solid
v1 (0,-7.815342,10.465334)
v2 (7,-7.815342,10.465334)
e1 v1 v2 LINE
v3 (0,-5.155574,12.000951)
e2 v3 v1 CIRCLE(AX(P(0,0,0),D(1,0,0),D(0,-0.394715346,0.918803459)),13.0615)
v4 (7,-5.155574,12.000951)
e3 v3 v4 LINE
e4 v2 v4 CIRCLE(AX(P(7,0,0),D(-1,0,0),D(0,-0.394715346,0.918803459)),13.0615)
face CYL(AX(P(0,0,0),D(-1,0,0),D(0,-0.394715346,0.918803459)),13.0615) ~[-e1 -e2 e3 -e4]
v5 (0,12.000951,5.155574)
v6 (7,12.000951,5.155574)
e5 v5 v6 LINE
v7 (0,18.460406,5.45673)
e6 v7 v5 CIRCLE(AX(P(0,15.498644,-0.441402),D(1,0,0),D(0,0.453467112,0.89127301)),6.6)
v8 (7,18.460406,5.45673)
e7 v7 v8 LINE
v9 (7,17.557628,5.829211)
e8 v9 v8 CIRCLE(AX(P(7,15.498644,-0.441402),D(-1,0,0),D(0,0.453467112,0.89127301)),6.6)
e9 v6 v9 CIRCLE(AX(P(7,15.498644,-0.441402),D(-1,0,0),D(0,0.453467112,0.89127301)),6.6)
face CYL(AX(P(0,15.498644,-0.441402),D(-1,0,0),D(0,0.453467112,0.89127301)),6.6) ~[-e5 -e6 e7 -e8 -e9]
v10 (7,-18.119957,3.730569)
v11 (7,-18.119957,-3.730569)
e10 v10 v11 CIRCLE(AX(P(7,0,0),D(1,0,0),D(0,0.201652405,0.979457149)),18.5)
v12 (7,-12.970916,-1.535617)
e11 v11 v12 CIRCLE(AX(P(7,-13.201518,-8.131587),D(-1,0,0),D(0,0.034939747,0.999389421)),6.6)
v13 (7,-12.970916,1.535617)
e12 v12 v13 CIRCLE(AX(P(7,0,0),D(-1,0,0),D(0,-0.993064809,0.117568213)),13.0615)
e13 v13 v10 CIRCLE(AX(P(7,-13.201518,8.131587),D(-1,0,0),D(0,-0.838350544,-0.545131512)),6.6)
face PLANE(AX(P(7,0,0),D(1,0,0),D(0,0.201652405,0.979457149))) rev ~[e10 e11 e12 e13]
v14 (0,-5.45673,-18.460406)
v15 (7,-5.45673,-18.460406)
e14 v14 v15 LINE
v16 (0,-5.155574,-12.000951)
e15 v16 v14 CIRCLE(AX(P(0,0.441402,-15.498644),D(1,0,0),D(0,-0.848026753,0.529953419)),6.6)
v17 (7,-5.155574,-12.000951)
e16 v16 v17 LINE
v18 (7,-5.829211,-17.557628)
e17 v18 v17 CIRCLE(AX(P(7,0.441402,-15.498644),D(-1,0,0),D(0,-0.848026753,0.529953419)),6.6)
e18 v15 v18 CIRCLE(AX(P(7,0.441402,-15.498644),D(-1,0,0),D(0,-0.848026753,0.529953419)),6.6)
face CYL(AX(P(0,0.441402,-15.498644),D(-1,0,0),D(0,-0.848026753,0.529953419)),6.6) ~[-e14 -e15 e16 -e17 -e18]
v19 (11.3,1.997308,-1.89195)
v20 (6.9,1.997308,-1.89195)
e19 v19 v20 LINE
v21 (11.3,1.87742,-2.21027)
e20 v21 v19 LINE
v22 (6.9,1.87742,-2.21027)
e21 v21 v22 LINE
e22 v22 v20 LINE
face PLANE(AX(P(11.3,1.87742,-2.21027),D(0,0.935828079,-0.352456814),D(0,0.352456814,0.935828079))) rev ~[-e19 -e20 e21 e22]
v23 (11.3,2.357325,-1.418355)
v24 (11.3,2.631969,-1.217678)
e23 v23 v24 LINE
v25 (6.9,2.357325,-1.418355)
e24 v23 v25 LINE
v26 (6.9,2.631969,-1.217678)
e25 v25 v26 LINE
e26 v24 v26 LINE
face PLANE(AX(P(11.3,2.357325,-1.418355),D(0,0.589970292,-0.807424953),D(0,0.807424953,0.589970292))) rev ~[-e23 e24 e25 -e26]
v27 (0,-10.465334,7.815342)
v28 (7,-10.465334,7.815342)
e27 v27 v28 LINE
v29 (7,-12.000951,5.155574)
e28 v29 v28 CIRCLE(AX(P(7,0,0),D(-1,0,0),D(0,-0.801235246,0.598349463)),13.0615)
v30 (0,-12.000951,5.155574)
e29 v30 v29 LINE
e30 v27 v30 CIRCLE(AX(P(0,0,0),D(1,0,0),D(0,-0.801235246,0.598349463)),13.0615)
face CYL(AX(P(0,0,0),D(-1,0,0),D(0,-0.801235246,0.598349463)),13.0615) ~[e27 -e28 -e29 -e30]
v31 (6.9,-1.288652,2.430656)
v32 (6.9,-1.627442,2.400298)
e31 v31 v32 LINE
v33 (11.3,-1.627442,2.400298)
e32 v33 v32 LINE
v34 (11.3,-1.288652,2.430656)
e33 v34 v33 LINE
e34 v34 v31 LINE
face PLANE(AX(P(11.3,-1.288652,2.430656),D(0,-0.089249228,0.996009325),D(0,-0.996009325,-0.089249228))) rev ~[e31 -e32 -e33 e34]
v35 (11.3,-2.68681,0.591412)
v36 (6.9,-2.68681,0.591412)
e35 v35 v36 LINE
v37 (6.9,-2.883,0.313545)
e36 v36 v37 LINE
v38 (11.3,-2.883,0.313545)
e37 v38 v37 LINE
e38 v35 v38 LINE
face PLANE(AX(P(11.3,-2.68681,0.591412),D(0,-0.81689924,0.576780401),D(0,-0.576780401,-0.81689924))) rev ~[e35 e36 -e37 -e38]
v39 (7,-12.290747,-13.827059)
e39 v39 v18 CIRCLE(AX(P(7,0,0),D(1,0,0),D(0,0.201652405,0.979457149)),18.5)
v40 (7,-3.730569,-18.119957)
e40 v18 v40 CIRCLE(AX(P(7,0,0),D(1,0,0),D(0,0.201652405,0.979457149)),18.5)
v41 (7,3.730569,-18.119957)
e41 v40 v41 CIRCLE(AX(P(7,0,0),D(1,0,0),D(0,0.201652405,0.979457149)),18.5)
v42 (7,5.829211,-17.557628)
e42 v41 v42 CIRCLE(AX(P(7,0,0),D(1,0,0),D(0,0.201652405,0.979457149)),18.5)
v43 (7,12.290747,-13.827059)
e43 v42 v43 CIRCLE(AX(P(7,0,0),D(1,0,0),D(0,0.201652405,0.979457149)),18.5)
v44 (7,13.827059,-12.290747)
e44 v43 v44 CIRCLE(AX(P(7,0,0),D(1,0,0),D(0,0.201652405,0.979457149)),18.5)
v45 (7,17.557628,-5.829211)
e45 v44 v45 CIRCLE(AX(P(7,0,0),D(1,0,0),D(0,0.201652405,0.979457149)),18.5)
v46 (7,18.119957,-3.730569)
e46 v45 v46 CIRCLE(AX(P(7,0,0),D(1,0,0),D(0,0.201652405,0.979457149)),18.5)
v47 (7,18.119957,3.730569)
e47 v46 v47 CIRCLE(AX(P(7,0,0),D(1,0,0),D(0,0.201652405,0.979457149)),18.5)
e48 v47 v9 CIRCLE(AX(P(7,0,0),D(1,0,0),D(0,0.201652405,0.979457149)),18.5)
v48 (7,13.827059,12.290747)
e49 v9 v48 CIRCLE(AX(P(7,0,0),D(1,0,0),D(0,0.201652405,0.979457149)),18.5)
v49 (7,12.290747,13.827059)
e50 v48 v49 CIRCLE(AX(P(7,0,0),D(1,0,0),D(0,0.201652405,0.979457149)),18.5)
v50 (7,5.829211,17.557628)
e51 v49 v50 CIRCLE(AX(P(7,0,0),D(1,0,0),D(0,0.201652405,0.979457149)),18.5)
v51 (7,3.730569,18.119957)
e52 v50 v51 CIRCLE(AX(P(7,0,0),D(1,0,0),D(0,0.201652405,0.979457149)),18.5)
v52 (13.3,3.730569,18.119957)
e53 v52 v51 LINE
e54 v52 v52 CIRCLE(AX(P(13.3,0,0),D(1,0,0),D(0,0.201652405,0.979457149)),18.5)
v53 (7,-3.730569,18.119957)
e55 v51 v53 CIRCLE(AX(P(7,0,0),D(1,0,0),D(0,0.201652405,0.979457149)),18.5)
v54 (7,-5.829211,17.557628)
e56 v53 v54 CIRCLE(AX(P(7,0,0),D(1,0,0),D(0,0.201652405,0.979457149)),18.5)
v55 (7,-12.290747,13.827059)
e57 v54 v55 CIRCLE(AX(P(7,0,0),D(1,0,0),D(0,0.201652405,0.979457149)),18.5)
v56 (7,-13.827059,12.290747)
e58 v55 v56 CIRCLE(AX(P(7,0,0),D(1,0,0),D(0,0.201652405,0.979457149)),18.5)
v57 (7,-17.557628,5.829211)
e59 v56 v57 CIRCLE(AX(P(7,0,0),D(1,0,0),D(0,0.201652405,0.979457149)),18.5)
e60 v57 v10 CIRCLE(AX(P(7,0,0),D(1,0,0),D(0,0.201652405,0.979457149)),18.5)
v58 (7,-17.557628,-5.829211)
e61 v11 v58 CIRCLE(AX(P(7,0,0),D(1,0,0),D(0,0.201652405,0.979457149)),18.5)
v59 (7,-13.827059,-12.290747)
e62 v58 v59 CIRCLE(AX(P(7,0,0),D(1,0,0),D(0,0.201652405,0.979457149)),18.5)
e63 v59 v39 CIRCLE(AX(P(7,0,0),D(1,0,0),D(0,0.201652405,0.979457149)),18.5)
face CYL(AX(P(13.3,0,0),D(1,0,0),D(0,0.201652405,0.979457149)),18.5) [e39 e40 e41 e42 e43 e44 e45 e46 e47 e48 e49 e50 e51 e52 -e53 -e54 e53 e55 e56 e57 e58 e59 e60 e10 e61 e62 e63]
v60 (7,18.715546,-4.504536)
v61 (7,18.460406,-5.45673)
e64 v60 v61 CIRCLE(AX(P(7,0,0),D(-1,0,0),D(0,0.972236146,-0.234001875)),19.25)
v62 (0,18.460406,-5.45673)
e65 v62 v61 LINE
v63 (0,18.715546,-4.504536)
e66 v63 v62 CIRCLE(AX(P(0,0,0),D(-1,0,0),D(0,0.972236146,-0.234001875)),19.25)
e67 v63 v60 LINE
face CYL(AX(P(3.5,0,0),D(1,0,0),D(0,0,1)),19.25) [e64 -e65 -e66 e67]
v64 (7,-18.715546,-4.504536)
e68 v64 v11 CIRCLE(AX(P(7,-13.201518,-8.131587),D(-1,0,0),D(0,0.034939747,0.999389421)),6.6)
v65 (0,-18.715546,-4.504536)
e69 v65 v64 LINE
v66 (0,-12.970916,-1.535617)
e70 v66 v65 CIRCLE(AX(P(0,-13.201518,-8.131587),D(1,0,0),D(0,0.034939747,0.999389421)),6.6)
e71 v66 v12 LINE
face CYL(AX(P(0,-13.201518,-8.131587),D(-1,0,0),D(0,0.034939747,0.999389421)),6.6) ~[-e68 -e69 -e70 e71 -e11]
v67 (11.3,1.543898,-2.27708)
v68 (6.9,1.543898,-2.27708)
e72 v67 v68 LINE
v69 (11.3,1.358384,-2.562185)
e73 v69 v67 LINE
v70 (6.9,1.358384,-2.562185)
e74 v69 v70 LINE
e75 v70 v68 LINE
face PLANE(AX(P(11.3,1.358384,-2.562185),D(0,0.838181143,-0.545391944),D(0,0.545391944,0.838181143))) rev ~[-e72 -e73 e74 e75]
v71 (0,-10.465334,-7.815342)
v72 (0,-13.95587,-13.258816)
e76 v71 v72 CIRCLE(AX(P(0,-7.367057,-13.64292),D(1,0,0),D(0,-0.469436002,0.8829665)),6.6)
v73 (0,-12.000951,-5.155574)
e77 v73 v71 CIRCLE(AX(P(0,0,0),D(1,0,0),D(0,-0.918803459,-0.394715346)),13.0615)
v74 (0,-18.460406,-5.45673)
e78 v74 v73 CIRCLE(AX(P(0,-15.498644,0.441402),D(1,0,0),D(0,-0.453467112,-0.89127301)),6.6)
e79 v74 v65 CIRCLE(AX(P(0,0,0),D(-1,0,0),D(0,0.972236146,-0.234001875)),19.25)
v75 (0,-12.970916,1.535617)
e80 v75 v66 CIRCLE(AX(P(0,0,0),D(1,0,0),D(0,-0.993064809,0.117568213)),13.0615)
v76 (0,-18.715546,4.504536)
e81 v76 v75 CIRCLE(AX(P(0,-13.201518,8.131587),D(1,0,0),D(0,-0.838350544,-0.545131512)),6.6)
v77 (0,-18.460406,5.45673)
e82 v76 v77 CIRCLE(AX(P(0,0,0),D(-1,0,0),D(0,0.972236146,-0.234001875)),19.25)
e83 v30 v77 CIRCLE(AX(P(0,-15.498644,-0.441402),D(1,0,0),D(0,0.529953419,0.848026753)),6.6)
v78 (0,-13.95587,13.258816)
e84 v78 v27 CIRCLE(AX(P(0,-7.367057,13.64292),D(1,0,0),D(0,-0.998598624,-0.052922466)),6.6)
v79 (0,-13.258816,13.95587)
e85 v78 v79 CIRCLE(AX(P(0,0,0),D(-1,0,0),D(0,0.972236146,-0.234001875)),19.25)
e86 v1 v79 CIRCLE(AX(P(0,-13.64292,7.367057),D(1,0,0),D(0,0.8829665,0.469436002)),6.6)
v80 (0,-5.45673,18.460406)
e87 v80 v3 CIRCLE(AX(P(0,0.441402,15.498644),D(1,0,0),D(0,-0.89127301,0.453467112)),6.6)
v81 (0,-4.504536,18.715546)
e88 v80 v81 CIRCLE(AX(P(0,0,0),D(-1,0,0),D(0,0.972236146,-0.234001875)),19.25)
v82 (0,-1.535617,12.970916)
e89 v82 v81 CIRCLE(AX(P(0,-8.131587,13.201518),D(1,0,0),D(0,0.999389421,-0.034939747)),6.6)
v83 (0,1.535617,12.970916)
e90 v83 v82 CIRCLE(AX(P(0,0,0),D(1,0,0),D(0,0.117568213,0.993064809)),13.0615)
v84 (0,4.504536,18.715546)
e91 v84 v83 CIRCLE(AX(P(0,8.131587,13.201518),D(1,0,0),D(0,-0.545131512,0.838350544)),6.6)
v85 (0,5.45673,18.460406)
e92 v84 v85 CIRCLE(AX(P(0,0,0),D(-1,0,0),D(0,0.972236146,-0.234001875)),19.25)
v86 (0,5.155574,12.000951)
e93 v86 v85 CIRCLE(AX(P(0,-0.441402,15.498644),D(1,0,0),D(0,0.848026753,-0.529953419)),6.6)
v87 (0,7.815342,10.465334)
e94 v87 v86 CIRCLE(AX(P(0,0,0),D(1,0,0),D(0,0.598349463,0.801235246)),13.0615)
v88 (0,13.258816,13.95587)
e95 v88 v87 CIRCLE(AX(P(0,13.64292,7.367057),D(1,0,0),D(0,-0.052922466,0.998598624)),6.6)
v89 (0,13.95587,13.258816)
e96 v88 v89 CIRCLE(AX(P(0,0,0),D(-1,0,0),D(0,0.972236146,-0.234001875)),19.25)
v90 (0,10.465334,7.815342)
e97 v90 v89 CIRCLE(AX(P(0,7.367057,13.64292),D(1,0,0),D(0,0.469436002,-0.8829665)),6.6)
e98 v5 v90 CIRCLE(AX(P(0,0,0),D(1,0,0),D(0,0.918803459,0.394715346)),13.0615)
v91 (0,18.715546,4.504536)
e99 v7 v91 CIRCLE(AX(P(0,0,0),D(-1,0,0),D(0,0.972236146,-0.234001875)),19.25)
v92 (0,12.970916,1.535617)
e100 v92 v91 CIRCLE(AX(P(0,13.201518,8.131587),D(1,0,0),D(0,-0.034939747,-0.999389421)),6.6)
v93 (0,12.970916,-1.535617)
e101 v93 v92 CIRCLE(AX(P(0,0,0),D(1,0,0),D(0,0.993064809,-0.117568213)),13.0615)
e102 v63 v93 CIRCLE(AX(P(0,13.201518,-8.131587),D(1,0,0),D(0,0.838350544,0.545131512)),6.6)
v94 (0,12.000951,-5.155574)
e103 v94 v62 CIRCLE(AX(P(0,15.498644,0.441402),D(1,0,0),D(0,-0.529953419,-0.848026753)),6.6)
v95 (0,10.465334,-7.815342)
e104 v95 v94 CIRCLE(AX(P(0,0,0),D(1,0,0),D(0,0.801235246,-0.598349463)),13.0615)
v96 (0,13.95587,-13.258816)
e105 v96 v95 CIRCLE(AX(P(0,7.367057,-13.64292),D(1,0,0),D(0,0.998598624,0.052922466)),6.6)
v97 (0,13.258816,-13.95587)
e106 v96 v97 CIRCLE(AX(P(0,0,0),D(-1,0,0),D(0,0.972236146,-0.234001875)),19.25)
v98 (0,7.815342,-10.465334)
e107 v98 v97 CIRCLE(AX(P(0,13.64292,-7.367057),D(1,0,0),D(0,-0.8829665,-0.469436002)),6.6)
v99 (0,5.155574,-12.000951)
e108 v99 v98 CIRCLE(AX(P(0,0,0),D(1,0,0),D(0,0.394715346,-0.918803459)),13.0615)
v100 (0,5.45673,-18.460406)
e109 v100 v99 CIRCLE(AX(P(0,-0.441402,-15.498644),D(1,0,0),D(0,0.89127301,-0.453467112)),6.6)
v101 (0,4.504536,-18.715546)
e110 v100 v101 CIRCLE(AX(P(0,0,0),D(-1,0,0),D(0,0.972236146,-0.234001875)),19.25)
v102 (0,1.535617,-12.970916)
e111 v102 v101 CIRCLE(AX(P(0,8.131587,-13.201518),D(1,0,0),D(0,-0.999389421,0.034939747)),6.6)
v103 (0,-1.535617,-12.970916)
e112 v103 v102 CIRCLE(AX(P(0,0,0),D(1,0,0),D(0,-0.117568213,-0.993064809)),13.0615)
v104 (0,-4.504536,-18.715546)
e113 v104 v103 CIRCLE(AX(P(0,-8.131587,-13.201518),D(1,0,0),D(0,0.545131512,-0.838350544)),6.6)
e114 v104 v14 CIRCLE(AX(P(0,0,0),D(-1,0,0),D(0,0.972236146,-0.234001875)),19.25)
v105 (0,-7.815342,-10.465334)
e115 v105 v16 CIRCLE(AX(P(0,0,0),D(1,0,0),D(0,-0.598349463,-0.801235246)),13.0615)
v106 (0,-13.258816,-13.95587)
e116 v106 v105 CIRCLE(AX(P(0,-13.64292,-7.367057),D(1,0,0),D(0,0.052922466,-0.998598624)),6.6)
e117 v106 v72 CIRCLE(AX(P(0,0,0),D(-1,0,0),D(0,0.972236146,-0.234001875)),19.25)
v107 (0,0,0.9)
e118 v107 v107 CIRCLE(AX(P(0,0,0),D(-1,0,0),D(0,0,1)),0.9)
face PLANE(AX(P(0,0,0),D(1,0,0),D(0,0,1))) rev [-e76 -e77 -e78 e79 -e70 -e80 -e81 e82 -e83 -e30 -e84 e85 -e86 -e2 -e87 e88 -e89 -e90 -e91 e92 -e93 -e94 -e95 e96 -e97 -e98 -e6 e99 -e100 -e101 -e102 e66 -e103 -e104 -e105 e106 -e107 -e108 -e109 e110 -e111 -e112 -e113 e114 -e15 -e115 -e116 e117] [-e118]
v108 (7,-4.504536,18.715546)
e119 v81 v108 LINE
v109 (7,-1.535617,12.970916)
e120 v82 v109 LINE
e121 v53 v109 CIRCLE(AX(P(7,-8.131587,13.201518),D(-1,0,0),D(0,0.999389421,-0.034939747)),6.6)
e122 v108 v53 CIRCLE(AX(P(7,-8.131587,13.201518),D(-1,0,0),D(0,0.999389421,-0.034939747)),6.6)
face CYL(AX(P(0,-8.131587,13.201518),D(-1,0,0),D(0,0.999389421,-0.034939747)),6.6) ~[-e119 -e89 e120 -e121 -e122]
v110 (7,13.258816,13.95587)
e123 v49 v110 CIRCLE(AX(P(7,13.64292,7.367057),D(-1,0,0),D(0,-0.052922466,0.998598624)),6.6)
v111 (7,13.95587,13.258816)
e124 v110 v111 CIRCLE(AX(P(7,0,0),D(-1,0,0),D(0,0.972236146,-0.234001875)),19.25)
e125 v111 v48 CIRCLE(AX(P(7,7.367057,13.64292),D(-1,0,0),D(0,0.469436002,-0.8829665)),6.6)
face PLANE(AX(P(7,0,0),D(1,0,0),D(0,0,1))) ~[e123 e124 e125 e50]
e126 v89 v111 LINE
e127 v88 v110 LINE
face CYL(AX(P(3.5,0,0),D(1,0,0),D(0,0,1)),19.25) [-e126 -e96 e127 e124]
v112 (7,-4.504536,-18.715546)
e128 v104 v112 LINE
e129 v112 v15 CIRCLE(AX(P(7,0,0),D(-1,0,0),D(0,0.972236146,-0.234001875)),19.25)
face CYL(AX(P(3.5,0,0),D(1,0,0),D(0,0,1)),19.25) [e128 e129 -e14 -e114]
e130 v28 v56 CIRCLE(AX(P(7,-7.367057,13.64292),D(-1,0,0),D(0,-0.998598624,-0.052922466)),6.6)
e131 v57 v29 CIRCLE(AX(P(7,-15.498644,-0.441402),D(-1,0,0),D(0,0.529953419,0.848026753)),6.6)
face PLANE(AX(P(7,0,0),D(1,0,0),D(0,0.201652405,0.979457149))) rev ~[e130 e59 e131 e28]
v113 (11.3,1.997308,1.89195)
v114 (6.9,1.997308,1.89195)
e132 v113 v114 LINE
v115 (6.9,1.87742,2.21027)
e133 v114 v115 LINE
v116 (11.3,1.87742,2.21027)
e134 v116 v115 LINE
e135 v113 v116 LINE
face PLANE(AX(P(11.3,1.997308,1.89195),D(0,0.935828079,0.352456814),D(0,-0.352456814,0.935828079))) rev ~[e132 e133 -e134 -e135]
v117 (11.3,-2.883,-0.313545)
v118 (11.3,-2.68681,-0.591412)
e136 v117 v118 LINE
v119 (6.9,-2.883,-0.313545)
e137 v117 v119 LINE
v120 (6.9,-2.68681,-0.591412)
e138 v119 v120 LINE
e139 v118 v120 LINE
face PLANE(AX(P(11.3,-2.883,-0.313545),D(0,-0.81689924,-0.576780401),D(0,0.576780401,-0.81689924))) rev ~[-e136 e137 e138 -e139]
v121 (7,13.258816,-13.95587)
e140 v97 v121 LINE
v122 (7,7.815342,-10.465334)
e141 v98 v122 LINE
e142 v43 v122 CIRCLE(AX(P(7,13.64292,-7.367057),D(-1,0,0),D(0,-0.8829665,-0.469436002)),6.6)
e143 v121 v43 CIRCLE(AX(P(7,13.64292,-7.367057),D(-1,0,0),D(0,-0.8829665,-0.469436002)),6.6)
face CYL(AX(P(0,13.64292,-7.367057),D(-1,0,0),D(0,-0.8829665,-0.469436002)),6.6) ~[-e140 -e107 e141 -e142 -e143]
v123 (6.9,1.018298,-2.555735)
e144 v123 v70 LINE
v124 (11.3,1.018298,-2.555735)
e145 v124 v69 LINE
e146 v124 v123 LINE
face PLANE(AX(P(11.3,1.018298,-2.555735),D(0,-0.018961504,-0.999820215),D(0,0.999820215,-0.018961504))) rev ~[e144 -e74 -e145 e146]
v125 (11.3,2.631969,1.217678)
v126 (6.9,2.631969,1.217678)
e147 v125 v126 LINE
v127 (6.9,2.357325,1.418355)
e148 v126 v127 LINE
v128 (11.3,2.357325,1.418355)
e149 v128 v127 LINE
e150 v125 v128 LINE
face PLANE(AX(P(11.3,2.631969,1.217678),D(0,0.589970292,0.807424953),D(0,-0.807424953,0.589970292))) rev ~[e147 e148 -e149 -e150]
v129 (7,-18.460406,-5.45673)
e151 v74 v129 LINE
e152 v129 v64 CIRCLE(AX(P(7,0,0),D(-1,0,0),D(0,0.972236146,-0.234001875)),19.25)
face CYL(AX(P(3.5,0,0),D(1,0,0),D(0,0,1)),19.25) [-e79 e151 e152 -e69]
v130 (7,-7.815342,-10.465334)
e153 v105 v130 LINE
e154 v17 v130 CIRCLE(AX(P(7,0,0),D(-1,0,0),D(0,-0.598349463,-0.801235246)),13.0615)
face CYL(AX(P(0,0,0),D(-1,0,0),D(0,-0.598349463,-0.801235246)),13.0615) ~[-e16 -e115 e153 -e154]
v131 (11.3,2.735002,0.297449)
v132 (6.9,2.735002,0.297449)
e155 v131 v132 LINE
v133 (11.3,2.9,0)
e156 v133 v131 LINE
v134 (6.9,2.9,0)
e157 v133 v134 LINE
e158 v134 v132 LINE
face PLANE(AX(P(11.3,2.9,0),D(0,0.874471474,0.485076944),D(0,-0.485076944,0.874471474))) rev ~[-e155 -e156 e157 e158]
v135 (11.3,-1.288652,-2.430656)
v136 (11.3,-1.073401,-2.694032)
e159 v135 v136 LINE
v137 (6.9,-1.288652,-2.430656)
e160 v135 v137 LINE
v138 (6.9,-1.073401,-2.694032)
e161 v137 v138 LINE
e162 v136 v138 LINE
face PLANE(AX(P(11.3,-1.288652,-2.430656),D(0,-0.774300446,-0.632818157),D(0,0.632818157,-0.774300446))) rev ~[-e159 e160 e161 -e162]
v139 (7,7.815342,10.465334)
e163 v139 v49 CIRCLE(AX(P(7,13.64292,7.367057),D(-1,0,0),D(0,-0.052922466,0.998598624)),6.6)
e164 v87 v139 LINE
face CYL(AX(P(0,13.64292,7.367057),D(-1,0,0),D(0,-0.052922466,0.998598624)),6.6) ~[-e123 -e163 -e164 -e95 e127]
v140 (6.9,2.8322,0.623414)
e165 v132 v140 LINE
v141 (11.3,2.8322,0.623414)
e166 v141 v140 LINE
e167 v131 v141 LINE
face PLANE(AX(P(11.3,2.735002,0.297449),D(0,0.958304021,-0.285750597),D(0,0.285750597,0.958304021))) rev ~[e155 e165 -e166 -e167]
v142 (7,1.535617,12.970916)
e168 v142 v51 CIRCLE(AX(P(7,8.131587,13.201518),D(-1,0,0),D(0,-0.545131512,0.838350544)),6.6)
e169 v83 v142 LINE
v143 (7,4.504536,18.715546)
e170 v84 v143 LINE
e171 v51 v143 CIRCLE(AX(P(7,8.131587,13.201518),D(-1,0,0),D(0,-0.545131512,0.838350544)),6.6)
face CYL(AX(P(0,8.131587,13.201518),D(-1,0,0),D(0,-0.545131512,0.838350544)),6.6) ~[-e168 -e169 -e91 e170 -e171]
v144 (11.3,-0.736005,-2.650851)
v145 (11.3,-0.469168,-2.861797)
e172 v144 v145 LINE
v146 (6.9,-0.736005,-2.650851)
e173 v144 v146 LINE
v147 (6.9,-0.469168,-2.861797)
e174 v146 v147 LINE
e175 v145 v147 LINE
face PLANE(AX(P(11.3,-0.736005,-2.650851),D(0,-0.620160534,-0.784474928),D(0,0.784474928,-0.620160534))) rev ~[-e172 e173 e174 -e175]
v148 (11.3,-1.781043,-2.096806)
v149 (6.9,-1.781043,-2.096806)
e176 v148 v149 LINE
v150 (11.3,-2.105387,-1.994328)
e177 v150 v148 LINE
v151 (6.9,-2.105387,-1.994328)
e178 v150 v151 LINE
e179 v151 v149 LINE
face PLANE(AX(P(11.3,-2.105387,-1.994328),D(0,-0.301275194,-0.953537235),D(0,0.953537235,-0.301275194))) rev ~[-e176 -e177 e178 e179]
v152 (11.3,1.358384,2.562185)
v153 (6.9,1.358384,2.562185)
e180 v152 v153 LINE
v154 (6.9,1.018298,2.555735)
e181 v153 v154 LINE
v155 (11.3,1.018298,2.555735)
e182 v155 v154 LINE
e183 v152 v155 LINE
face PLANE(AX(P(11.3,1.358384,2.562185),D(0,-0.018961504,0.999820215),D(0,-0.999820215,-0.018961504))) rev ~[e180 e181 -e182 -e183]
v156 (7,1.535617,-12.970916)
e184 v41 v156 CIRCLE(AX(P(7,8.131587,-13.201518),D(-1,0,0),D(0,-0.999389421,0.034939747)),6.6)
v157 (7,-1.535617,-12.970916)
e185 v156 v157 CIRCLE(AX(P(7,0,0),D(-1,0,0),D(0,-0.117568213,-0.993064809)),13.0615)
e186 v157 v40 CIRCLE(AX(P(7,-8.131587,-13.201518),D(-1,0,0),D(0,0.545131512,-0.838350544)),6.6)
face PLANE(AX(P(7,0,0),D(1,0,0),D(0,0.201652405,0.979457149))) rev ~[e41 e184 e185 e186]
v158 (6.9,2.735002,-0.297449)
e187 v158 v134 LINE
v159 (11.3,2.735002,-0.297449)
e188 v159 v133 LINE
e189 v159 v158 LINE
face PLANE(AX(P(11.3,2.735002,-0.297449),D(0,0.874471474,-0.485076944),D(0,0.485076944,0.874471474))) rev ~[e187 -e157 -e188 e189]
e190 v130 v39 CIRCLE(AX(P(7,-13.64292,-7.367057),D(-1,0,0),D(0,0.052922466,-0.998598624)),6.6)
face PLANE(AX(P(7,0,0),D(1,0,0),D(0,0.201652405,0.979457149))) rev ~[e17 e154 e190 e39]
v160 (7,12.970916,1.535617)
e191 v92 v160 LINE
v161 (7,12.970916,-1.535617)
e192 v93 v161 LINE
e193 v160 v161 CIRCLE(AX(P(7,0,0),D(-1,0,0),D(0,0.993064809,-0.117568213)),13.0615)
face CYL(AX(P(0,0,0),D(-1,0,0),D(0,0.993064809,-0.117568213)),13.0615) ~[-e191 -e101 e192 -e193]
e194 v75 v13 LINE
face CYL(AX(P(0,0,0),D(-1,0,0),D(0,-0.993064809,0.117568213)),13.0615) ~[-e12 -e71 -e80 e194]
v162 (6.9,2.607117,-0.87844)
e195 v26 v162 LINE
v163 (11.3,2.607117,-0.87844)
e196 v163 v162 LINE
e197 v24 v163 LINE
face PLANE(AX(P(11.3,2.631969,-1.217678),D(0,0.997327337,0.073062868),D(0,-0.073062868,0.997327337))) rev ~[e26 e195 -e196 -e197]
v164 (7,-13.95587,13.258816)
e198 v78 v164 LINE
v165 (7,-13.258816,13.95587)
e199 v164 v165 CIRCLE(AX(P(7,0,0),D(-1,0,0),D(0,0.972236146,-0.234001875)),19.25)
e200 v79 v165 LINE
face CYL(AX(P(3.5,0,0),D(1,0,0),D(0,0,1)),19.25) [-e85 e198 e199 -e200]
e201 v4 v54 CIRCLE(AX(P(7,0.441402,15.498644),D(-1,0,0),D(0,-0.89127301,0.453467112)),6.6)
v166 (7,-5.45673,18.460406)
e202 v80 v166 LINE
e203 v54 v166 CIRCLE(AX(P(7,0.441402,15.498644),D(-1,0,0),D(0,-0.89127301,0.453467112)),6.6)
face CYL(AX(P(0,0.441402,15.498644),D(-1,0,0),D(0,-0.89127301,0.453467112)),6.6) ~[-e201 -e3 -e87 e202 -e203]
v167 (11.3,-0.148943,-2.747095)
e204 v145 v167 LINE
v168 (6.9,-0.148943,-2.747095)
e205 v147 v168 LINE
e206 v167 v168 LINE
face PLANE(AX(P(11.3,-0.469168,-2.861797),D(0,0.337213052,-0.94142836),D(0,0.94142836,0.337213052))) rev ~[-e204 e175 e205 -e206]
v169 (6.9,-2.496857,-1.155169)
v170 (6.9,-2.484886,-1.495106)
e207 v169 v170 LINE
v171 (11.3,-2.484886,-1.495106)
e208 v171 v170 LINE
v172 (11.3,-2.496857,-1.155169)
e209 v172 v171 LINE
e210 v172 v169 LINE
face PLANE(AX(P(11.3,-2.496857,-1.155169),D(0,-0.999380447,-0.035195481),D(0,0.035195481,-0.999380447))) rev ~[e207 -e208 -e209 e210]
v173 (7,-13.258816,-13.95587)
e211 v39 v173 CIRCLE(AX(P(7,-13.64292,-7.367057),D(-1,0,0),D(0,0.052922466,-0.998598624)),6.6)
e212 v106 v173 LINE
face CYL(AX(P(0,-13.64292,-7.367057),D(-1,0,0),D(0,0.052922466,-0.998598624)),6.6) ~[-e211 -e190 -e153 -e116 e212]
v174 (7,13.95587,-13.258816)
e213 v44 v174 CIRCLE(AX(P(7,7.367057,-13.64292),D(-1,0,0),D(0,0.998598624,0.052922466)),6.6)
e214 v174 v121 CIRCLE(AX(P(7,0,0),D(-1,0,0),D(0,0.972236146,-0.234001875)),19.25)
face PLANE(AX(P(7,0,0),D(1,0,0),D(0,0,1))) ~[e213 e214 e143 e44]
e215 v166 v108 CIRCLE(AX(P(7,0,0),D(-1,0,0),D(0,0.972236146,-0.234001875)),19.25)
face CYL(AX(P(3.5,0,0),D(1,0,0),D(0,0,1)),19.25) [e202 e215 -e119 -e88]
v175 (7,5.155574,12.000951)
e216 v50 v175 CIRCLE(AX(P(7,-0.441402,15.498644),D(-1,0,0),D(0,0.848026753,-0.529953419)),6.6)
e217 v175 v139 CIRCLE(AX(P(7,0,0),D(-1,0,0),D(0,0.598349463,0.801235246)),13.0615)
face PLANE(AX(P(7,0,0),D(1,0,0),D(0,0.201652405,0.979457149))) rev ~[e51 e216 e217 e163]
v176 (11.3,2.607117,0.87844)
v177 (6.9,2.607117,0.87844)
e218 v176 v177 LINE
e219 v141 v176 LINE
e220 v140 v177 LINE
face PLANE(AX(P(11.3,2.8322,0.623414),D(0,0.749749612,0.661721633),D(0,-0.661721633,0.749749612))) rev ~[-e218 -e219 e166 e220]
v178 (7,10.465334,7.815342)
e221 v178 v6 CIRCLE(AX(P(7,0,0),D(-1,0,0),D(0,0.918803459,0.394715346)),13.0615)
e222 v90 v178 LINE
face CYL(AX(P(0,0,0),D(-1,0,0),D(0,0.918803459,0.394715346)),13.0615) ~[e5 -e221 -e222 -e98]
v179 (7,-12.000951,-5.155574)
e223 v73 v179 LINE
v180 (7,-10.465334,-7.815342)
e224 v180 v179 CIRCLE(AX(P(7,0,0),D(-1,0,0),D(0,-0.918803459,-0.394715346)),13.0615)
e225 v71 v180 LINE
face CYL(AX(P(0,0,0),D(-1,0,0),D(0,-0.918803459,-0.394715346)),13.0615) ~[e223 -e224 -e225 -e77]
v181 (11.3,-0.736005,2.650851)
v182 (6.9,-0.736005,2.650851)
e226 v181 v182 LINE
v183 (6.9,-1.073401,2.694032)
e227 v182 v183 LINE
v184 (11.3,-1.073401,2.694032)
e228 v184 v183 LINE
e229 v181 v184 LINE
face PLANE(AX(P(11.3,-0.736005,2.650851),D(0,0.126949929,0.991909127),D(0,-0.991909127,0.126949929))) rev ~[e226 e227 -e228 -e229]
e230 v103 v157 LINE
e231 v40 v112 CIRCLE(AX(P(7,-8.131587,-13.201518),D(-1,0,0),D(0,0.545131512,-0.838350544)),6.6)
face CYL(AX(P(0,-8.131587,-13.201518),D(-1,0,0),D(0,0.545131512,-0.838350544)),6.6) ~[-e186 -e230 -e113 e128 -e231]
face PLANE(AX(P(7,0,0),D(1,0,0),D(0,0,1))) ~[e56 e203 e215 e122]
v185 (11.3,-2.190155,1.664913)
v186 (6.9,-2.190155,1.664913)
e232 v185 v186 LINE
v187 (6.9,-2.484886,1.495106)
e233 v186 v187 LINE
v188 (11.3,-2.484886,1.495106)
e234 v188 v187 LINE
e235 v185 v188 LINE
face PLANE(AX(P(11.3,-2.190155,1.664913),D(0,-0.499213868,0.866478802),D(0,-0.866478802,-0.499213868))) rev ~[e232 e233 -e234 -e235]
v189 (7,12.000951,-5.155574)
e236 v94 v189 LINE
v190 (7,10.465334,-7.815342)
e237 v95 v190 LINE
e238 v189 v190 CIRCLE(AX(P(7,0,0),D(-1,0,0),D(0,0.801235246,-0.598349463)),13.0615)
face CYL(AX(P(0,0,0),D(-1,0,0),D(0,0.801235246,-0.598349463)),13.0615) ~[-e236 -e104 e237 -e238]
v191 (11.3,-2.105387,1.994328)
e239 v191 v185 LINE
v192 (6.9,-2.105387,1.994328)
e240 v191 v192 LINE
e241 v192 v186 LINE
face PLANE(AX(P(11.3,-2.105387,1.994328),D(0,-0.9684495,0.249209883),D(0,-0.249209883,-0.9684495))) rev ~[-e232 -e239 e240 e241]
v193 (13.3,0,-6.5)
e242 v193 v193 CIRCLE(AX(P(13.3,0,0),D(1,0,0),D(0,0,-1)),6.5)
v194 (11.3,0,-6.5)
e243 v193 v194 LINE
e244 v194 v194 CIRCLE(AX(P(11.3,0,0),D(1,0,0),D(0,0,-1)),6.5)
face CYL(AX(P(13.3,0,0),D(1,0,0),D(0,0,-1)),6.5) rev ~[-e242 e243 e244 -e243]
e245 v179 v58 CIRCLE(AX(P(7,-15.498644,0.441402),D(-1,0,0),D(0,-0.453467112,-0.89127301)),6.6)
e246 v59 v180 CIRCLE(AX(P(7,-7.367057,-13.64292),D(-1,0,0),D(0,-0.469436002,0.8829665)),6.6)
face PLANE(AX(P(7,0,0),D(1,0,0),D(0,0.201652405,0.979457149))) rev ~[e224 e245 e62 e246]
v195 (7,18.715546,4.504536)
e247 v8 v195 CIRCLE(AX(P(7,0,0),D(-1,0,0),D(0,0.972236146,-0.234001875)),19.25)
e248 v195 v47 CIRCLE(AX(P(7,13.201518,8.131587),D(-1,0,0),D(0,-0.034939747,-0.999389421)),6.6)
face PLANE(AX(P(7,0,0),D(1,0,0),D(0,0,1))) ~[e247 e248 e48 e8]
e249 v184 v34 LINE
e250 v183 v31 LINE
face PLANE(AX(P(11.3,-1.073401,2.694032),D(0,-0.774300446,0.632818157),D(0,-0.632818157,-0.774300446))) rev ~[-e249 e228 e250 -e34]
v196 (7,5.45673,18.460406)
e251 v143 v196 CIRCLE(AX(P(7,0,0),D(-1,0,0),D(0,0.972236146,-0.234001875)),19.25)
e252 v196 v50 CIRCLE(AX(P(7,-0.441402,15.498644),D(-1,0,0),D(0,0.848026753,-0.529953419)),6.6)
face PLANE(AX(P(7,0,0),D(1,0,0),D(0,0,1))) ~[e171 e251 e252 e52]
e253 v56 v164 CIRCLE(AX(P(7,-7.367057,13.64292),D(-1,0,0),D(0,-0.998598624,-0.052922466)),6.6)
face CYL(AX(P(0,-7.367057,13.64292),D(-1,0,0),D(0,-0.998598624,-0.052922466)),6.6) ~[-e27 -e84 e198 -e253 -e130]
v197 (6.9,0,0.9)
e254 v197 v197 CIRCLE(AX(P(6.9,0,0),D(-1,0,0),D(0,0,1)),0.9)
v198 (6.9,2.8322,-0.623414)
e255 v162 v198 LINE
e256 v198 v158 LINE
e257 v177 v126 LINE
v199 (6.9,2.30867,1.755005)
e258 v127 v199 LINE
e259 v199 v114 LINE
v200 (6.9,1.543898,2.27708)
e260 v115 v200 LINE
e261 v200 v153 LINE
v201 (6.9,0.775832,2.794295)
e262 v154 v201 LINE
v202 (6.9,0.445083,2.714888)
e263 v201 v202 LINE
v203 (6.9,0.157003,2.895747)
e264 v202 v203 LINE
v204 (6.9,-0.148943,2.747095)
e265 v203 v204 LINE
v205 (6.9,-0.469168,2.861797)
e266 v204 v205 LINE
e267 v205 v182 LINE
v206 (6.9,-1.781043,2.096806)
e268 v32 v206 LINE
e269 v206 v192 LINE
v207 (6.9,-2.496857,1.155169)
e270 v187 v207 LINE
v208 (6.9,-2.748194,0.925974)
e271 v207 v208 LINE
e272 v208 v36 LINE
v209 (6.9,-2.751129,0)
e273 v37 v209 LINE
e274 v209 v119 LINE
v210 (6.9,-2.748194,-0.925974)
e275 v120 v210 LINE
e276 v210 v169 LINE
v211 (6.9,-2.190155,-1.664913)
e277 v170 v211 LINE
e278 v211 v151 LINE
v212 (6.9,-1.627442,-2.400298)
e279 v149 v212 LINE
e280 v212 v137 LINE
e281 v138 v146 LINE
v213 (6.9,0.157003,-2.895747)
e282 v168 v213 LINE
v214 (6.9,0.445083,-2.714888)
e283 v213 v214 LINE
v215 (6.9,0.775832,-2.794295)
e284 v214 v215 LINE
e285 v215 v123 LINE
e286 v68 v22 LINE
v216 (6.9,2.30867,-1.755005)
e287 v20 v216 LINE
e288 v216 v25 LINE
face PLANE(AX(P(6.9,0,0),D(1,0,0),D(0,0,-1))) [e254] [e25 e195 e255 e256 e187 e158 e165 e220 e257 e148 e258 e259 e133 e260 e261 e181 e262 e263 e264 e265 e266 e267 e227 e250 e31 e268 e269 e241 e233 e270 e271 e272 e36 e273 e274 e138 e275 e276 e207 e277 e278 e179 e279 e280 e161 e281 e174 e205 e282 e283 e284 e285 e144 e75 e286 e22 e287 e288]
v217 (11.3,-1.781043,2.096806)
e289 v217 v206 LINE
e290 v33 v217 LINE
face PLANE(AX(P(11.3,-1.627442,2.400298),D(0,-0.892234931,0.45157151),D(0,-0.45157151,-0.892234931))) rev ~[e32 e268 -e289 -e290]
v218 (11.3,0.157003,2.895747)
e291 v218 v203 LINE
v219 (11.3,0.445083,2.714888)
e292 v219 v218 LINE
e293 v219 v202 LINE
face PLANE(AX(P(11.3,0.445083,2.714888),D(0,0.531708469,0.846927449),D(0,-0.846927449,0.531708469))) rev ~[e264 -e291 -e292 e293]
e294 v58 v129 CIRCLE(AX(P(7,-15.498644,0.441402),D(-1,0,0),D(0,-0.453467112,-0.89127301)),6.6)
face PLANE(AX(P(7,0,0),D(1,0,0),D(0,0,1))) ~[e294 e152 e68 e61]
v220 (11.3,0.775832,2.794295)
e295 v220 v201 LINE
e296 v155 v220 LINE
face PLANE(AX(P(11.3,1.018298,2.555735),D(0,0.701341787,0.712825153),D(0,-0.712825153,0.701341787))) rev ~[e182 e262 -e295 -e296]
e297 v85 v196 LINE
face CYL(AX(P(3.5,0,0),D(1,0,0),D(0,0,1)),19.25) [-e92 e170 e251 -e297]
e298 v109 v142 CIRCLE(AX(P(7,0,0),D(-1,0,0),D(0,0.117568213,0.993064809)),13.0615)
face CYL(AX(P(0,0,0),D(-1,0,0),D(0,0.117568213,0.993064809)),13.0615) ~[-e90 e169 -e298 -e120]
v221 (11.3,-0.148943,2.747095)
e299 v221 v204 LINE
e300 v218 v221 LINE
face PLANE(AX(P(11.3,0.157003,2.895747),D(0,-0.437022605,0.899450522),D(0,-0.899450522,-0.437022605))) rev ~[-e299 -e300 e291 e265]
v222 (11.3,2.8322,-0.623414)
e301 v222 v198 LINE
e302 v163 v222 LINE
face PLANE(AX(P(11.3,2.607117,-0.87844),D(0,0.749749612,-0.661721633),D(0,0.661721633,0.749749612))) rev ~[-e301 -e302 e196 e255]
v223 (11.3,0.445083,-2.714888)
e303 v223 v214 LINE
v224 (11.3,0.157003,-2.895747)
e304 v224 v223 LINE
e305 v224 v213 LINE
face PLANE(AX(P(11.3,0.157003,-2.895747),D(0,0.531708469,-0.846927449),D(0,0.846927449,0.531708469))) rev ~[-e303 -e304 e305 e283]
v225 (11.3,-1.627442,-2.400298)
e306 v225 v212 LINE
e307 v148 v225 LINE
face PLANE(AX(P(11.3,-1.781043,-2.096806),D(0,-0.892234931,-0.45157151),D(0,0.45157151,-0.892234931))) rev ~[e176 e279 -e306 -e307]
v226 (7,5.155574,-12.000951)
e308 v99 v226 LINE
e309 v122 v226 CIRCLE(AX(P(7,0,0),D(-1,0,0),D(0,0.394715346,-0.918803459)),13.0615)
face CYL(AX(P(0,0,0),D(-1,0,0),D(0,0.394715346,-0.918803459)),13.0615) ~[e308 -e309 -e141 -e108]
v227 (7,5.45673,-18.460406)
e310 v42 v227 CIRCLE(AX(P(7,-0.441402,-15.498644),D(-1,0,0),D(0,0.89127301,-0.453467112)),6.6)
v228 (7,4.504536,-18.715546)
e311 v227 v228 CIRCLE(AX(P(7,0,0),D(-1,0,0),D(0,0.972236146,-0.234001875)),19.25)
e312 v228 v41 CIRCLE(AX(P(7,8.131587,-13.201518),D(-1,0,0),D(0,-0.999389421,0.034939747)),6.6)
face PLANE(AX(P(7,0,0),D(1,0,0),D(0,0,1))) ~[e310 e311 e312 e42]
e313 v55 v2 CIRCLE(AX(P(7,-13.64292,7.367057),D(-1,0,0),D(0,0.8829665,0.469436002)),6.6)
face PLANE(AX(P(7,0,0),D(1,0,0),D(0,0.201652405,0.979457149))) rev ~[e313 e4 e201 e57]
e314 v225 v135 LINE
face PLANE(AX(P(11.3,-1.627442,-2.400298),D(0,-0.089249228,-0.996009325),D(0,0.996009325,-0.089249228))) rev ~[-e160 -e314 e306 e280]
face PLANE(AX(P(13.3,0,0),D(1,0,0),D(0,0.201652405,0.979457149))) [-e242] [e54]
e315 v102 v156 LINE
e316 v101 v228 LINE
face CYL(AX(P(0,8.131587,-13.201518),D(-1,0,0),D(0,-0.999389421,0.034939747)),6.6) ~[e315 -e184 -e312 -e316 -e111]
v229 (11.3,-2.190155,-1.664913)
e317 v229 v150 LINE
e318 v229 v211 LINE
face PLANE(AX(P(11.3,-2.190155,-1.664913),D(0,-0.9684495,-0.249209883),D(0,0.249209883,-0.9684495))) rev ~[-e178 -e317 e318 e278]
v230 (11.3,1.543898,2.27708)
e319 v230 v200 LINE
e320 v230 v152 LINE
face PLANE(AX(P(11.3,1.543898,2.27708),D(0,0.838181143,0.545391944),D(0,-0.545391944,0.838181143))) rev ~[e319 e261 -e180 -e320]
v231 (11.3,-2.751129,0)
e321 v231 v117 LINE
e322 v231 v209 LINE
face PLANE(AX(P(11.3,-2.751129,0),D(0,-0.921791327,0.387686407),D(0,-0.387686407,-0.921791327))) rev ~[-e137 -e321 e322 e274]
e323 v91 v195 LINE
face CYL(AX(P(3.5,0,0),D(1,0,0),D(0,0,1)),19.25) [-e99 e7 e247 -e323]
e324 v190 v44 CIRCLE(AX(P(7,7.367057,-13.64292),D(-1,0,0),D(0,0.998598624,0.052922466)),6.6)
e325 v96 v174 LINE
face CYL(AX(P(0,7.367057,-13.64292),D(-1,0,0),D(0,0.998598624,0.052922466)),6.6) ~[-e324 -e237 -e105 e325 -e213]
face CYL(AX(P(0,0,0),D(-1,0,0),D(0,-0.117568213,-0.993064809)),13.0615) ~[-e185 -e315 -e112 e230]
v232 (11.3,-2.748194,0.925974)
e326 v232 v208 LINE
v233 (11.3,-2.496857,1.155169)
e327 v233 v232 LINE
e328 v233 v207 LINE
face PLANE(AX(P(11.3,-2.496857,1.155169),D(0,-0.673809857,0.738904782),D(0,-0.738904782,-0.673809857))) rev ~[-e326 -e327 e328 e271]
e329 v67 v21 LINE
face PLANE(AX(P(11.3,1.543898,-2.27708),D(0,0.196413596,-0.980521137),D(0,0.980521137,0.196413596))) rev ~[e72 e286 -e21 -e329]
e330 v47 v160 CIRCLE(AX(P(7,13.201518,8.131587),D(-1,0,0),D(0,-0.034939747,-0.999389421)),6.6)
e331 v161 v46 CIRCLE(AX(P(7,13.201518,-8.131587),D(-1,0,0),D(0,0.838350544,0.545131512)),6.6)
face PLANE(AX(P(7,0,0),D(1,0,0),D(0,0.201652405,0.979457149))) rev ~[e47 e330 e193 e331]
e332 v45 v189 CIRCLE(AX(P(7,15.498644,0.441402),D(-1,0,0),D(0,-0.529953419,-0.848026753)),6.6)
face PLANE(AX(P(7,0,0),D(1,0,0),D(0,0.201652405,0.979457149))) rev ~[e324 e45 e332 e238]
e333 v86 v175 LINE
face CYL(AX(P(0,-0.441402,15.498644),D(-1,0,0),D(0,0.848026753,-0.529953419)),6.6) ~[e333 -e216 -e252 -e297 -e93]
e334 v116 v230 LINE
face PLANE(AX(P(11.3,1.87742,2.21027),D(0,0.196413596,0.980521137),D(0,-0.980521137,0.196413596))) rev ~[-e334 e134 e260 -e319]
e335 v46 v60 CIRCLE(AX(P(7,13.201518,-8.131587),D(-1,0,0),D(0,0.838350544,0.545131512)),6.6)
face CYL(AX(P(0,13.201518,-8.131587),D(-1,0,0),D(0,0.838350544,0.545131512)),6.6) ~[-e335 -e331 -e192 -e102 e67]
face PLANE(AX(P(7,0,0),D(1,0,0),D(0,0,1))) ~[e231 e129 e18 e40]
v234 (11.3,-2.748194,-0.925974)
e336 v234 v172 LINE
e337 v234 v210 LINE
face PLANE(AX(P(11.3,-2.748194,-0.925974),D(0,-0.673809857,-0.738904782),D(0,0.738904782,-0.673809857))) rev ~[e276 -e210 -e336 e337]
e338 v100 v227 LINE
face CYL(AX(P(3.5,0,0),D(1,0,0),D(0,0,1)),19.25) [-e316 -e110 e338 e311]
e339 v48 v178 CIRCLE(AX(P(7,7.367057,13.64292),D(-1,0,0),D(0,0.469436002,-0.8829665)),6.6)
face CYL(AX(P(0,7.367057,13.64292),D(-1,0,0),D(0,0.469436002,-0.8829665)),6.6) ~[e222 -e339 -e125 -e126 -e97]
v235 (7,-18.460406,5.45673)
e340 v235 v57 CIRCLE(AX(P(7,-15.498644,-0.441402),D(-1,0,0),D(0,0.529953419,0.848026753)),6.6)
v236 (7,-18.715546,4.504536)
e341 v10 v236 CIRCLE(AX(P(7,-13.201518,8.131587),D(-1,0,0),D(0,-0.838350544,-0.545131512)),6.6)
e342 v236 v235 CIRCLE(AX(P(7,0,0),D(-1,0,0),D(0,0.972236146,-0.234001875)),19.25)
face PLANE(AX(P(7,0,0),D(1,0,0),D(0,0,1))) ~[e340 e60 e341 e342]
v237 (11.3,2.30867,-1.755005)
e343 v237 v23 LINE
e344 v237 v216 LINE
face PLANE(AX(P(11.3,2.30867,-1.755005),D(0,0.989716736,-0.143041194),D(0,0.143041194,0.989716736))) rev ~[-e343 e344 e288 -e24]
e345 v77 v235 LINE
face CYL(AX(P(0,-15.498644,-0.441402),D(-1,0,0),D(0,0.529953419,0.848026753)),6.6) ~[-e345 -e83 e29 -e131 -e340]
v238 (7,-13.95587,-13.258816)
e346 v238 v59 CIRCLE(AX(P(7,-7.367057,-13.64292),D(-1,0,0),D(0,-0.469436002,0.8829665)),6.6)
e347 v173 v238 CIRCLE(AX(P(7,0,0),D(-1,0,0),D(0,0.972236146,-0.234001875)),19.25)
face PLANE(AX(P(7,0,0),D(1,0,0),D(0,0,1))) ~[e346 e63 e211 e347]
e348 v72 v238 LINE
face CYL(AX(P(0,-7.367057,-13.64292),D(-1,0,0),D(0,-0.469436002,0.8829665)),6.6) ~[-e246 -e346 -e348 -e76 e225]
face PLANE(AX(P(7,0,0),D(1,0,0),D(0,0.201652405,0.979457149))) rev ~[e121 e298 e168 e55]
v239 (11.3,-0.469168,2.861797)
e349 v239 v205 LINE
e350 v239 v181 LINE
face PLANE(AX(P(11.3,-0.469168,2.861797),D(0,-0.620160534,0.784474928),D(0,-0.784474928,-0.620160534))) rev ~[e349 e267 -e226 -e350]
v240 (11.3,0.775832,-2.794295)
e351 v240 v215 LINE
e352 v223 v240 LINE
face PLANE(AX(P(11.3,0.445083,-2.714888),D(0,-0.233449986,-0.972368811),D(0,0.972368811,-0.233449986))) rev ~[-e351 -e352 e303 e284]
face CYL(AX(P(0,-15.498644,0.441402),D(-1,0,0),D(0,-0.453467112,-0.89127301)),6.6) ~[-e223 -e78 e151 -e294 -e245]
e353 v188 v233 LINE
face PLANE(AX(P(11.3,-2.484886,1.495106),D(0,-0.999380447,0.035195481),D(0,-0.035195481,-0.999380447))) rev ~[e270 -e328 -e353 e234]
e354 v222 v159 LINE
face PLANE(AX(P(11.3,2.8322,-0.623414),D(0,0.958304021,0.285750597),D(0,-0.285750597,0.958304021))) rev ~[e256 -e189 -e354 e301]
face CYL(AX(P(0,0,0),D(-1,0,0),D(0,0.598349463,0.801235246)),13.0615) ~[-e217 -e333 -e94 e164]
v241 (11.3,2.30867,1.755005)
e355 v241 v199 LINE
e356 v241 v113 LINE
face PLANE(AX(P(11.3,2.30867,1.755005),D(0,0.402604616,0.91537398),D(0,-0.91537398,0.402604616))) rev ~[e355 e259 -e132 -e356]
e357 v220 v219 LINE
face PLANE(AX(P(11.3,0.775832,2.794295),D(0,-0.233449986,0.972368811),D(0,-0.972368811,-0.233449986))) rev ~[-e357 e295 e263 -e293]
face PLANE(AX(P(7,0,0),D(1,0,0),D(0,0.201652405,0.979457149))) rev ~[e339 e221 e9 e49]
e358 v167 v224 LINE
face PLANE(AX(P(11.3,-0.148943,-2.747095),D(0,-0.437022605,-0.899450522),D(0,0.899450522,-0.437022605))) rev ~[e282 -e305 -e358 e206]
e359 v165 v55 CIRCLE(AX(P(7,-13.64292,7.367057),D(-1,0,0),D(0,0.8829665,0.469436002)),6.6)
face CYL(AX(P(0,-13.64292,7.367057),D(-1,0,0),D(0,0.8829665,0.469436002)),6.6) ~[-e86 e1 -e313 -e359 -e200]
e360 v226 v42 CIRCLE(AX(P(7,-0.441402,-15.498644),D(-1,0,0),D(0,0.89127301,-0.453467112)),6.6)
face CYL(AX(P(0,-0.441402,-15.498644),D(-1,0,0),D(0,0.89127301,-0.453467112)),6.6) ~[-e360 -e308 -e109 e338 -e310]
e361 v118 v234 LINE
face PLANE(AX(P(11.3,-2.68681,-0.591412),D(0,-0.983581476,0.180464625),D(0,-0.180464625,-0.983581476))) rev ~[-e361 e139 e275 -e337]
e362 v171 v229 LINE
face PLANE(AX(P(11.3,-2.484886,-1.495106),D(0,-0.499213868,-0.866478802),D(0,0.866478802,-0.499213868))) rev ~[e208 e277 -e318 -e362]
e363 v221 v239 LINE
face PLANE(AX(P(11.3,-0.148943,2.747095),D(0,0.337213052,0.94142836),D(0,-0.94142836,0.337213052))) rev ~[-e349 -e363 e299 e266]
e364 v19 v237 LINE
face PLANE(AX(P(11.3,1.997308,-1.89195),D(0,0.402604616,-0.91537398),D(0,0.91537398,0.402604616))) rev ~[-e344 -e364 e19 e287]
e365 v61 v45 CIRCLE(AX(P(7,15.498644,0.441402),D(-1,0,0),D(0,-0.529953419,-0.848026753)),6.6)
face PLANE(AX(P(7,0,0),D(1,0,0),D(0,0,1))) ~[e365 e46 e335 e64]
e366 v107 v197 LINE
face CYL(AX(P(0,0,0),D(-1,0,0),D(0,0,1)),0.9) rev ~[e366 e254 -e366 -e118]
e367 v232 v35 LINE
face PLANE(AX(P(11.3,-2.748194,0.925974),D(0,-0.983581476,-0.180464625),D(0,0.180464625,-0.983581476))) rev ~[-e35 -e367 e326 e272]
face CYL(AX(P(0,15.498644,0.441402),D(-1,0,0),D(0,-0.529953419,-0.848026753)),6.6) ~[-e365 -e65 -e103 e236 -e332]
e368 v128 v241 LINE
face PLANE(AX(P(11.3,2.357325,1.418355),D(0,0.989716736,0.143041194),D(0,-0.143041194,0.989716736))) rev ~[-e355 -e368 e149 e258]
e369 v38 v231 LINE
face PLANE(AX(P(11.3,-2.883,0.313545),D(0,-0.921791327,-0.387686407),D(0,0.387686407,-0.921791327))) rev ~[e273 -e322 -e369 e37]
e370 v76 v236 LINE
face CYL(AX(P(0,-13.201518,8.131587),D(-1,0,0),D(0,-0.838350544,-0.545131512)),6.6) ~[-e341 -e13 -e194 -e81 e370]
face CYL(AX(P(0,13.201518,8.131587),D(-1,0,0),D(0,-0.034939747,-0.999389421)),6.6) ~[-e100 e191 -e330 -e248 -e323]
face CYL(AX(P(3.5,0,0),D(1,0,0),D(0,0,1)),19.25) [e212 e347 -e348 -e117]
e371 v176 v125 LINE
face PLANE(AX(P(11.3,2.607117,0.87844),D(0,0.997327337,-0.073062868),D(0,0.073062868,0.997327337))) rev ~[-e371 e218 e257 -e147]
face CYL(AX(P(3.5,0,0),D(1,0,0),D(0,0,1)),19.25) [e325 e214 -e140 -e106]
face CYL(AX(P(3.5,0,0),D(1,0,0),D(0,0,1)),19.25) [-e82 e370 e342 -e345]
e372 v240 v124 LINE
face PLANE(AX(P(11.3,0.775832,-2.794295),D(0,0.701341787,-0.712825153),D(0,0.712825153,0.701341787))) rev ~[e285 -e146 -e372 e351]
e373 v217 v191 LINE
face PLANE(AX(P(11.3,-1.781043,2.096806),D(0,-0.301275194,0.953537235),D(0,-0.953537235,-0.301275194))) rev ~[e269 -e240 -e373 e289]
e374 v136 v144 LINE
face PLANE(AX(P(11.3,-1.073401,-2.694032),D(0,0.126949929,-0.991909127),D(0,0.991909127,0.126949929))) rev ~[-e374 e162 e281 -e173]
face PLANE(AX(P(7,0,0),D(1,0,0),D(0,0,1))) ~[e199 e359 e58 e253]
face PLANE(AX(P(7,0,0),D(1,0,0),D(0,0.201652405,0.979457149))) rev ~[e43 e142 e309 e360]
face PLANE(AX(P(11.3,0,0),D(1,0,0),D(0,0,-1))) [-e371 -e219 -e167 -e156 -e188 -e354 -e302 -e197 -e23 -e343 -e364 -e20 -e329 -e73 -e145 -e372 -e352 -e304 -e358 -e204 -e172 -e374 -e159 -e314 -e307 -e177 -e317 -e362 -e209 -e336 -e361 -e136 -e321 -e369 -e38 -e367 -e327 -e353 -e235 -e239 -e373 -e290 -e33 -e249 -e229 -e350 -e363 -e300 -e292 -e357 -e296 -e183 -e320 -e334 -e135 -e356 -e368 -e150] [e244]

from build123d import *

# Parameters (mm, degrees)
BASPROSKE_W         = 7
BASPROSKE_H         = 19.25
TOOTHCUT_DEPTH      = 29.109162207
TEETHCUTS_COUNT     = 12
TEETHCUTS_ANGLE     = 330
BORSKE_R            = 0.4
BORE_DEPTH          = 50.0000508
EXTRUDE_START       = 6.3
SKETCH_1_R          = 18.5
SKETCH_1_R_2        = 0.4
EXTRUDE_1_DEPTH     = 6.3
SKETCH_8_R          = 6.5
SKETCH_8_R_2        = 0.4
CUT_EXTRUDE_6_DEPTH = 2
SKETCH_9_R          = 0.4
CUT_EXTRUDE_7_DEPTH = 4.4
SKETCH_10_R         = 0.9
CUT_EXTRUDE_8_DEPTH = 30.621500794


with BuildPart() as part:
    # BasProSke → Base-Revolve (revolve)
    with BuildSketch(Plane(origin=(0, 0, 0), x_dir=(1, 0, 0), z_dir=(0, 1, 0)), mode=Mode.PRIVATE) as base_revolve_sk:
        with Locations((3.5, 9.625)):
            Rectangle(BASPROSKE_W, BASPROSKE_H)
    revolve(base_revolve_sk.sketch.rotate(Axis((-10, 0, 0), (1, 0, 0)), 180), axis=Axis((-10, 0, 0), (1, 0, 0)))

    # TooCutSke → ToothCut (cut, through all)
    with BuildSketch(Plane(origin=(0, 0, 0), x_dir=(0, 0, -1), z_dir=(1, 0, 0))):
        with BuildLine():
            ThreePointArc((1.535617211, 12.970916006), (0, 13.0615), (-1.535617211, 12.970916006))
            ThreePointArc((-1.535617211, 12.970916006), (-2.27635986, 16.247221969), (-4.533719407, 18.734631928))
            ThreePointArc((-4.533719407, 18.734631928), (0, 19.2754), (4.533719407, 18.734631928))
            ThreePointArc((4.533719407, 18.734631928), (2.27635986, 16.247221969), (1.535617211, 12.970916006))
        make_face()
    toothcut = extrude(amount=TOOTHCUT_DEPTH, mode=Mode.SUBTRACT)

    # TeethCuts: ToothCut ×12 about axis
    teethcuts_axis = Axis((-10, 0, 0), (1, 0, 0))
    for i in range(1, TEETHCUTS_COUNT):
        add(toothcut.rotate(teethcuts_axis, i * TEETHCUTS_ANGLE / (TEETHCUTS_COUNT - 1)), mode=Mode.SUBTRACT)

    # BorSke → Bore (cut, symmetric)
    with BuildSketch(Plane(origin=(0, 0, 0), x_dir=(0, 0, -1), z_dir=(1, 0, 0))):
        with Locations(Location((0, 0, 0), (0, 0, 180))):
            Circle(BORSKE_R)
    extrude(amount=BORE_DEPTH, both=True, mode=Mode.SUBTRACT)

    # Эскиз1 → Бобышка-Вытянуть1 (add)
    with BuildSketch(Plane(origin=(7, 0, 0), x_dir=(0, 0, -1), z_dir=(1, 0, 0)).offset(EXTRUDE_START)):
        with Locations(Location((0, 0, 0), (0, 0, 168.366396173))):
            Circle(SKETCH_1_R)
        Circle(SKETCH_1_R_2, mode=Mode.SUBTRACT)
    extrude(amount=-EXTRUDE_1_DEPTH)

    # Эскиз8 → Вырез-Вытянуть6 (cut)
    with BuildSketch(Plane(origin=(13.3, 0, 0), x_dir=(0, 0, -1), z_dir=(1, 0, 0))):
        Circle(SKETCH_8_R)
        Circle(SKETCH_8_R_2, mode=Mode.SUBTRACT)
    extrude(amount=-CUT_EXTRUDE_6_DEPTH, mode=Mode.SUBTRACT)

    # Эскиз9 → Вырез-Вытянуть7 (cut)
    with BuildSketch(Plane(origin=(11.3, 0, 0), x_dir=(0, 0, -1), z_dir=(1, 0, 0))):
        Polygon((0.297449416, 2.735002218), (0, 2.9), (-0.297449416, 2.735002218), (-0.623414277, 2.832199612), (-0.878439845, 2.607116554), (-1.217678395, 2.631968717), (-1.418355403, 2.357325017), (-1.755005224, 2.308669891), (-1.891950238, 1.997307583), (-2.21026996, 1.877420226), (-2.277079583, 1.543898266), (-2.562184929, 1.358384478), (-2.555735218, 1.018297982), (-2.794294978, 0.775832182), (-2.714887514, 0.445083216), (-2.8957469, 0.157002835), (-2.747094688, -0.148943146), (-2.861796915, -0.46916779), (-2.650850767, -0.736005093), (-2.694032487, -1.07340065), (-2.43065601, -1.288652259), (-2.400298095, -1.62744249), (-2.09680648, -1.781043478), (-1.994328431, -2.105386927), (-1.66491261, -2.190155083), (-1.495106186, -2.484885811), (-1.155169276, -2.496857471), (-0.925974437, -2.748194196), (-0.59141151, -2.686809578), (-0.313545153, -2.883000076), (0, -2.751129456), (0.313545153, -2.883000076), (0.59141151, -2.686809578), (0.925974437, -2.748194196), (1.155169276, -2.496857471), (1.495106186, -2.484885811), (1.66491261, -2.190155083), (1.994328431, -2.105386927), (2.09680648, -1.781043478), (2.400298095, -1.62744249), (2.43065601, -1.288652259), (2.694032487, -1.07340065), (2.650850767, -0.736005093), (2.861796915, -0.46916779), (2.747094688, -0.148943146), (2.8957469, 0.157002835), (2.714887514, 0.445083216), (2.794294978, 0.775832182), (2.555735218, 1.018297982), (2.562184929, 1.358384478), (2.277079583, 1.543898266), (2.21026996, 1.877420226), (1.891950238, 1.997307583), (1.755005224, 2.308669891), (1.418355403, 2.357325017), (1.217678395, 2.631968717), (0.878439845, 2.607116554), (0.623414277, 2.832199612), align=None)
        Circle(SKETCH_9_R, mode=Mode.SUBTRACT)
    extrude(amount=-CUT_EXTRUDE_7_DEPTH, mode=Mode.SUBTRACT)

    # Эскиз10 → Вырез-Вытянуть8 (cut, through all)
    with BuildSketch(Plane.ZY):
        Circle(SKETCH_10_R)
    extrude(amount=-CUT_EXTRUDE_8_DEPTH, mode=Mode.SUBTRACT)


solid = part.part
